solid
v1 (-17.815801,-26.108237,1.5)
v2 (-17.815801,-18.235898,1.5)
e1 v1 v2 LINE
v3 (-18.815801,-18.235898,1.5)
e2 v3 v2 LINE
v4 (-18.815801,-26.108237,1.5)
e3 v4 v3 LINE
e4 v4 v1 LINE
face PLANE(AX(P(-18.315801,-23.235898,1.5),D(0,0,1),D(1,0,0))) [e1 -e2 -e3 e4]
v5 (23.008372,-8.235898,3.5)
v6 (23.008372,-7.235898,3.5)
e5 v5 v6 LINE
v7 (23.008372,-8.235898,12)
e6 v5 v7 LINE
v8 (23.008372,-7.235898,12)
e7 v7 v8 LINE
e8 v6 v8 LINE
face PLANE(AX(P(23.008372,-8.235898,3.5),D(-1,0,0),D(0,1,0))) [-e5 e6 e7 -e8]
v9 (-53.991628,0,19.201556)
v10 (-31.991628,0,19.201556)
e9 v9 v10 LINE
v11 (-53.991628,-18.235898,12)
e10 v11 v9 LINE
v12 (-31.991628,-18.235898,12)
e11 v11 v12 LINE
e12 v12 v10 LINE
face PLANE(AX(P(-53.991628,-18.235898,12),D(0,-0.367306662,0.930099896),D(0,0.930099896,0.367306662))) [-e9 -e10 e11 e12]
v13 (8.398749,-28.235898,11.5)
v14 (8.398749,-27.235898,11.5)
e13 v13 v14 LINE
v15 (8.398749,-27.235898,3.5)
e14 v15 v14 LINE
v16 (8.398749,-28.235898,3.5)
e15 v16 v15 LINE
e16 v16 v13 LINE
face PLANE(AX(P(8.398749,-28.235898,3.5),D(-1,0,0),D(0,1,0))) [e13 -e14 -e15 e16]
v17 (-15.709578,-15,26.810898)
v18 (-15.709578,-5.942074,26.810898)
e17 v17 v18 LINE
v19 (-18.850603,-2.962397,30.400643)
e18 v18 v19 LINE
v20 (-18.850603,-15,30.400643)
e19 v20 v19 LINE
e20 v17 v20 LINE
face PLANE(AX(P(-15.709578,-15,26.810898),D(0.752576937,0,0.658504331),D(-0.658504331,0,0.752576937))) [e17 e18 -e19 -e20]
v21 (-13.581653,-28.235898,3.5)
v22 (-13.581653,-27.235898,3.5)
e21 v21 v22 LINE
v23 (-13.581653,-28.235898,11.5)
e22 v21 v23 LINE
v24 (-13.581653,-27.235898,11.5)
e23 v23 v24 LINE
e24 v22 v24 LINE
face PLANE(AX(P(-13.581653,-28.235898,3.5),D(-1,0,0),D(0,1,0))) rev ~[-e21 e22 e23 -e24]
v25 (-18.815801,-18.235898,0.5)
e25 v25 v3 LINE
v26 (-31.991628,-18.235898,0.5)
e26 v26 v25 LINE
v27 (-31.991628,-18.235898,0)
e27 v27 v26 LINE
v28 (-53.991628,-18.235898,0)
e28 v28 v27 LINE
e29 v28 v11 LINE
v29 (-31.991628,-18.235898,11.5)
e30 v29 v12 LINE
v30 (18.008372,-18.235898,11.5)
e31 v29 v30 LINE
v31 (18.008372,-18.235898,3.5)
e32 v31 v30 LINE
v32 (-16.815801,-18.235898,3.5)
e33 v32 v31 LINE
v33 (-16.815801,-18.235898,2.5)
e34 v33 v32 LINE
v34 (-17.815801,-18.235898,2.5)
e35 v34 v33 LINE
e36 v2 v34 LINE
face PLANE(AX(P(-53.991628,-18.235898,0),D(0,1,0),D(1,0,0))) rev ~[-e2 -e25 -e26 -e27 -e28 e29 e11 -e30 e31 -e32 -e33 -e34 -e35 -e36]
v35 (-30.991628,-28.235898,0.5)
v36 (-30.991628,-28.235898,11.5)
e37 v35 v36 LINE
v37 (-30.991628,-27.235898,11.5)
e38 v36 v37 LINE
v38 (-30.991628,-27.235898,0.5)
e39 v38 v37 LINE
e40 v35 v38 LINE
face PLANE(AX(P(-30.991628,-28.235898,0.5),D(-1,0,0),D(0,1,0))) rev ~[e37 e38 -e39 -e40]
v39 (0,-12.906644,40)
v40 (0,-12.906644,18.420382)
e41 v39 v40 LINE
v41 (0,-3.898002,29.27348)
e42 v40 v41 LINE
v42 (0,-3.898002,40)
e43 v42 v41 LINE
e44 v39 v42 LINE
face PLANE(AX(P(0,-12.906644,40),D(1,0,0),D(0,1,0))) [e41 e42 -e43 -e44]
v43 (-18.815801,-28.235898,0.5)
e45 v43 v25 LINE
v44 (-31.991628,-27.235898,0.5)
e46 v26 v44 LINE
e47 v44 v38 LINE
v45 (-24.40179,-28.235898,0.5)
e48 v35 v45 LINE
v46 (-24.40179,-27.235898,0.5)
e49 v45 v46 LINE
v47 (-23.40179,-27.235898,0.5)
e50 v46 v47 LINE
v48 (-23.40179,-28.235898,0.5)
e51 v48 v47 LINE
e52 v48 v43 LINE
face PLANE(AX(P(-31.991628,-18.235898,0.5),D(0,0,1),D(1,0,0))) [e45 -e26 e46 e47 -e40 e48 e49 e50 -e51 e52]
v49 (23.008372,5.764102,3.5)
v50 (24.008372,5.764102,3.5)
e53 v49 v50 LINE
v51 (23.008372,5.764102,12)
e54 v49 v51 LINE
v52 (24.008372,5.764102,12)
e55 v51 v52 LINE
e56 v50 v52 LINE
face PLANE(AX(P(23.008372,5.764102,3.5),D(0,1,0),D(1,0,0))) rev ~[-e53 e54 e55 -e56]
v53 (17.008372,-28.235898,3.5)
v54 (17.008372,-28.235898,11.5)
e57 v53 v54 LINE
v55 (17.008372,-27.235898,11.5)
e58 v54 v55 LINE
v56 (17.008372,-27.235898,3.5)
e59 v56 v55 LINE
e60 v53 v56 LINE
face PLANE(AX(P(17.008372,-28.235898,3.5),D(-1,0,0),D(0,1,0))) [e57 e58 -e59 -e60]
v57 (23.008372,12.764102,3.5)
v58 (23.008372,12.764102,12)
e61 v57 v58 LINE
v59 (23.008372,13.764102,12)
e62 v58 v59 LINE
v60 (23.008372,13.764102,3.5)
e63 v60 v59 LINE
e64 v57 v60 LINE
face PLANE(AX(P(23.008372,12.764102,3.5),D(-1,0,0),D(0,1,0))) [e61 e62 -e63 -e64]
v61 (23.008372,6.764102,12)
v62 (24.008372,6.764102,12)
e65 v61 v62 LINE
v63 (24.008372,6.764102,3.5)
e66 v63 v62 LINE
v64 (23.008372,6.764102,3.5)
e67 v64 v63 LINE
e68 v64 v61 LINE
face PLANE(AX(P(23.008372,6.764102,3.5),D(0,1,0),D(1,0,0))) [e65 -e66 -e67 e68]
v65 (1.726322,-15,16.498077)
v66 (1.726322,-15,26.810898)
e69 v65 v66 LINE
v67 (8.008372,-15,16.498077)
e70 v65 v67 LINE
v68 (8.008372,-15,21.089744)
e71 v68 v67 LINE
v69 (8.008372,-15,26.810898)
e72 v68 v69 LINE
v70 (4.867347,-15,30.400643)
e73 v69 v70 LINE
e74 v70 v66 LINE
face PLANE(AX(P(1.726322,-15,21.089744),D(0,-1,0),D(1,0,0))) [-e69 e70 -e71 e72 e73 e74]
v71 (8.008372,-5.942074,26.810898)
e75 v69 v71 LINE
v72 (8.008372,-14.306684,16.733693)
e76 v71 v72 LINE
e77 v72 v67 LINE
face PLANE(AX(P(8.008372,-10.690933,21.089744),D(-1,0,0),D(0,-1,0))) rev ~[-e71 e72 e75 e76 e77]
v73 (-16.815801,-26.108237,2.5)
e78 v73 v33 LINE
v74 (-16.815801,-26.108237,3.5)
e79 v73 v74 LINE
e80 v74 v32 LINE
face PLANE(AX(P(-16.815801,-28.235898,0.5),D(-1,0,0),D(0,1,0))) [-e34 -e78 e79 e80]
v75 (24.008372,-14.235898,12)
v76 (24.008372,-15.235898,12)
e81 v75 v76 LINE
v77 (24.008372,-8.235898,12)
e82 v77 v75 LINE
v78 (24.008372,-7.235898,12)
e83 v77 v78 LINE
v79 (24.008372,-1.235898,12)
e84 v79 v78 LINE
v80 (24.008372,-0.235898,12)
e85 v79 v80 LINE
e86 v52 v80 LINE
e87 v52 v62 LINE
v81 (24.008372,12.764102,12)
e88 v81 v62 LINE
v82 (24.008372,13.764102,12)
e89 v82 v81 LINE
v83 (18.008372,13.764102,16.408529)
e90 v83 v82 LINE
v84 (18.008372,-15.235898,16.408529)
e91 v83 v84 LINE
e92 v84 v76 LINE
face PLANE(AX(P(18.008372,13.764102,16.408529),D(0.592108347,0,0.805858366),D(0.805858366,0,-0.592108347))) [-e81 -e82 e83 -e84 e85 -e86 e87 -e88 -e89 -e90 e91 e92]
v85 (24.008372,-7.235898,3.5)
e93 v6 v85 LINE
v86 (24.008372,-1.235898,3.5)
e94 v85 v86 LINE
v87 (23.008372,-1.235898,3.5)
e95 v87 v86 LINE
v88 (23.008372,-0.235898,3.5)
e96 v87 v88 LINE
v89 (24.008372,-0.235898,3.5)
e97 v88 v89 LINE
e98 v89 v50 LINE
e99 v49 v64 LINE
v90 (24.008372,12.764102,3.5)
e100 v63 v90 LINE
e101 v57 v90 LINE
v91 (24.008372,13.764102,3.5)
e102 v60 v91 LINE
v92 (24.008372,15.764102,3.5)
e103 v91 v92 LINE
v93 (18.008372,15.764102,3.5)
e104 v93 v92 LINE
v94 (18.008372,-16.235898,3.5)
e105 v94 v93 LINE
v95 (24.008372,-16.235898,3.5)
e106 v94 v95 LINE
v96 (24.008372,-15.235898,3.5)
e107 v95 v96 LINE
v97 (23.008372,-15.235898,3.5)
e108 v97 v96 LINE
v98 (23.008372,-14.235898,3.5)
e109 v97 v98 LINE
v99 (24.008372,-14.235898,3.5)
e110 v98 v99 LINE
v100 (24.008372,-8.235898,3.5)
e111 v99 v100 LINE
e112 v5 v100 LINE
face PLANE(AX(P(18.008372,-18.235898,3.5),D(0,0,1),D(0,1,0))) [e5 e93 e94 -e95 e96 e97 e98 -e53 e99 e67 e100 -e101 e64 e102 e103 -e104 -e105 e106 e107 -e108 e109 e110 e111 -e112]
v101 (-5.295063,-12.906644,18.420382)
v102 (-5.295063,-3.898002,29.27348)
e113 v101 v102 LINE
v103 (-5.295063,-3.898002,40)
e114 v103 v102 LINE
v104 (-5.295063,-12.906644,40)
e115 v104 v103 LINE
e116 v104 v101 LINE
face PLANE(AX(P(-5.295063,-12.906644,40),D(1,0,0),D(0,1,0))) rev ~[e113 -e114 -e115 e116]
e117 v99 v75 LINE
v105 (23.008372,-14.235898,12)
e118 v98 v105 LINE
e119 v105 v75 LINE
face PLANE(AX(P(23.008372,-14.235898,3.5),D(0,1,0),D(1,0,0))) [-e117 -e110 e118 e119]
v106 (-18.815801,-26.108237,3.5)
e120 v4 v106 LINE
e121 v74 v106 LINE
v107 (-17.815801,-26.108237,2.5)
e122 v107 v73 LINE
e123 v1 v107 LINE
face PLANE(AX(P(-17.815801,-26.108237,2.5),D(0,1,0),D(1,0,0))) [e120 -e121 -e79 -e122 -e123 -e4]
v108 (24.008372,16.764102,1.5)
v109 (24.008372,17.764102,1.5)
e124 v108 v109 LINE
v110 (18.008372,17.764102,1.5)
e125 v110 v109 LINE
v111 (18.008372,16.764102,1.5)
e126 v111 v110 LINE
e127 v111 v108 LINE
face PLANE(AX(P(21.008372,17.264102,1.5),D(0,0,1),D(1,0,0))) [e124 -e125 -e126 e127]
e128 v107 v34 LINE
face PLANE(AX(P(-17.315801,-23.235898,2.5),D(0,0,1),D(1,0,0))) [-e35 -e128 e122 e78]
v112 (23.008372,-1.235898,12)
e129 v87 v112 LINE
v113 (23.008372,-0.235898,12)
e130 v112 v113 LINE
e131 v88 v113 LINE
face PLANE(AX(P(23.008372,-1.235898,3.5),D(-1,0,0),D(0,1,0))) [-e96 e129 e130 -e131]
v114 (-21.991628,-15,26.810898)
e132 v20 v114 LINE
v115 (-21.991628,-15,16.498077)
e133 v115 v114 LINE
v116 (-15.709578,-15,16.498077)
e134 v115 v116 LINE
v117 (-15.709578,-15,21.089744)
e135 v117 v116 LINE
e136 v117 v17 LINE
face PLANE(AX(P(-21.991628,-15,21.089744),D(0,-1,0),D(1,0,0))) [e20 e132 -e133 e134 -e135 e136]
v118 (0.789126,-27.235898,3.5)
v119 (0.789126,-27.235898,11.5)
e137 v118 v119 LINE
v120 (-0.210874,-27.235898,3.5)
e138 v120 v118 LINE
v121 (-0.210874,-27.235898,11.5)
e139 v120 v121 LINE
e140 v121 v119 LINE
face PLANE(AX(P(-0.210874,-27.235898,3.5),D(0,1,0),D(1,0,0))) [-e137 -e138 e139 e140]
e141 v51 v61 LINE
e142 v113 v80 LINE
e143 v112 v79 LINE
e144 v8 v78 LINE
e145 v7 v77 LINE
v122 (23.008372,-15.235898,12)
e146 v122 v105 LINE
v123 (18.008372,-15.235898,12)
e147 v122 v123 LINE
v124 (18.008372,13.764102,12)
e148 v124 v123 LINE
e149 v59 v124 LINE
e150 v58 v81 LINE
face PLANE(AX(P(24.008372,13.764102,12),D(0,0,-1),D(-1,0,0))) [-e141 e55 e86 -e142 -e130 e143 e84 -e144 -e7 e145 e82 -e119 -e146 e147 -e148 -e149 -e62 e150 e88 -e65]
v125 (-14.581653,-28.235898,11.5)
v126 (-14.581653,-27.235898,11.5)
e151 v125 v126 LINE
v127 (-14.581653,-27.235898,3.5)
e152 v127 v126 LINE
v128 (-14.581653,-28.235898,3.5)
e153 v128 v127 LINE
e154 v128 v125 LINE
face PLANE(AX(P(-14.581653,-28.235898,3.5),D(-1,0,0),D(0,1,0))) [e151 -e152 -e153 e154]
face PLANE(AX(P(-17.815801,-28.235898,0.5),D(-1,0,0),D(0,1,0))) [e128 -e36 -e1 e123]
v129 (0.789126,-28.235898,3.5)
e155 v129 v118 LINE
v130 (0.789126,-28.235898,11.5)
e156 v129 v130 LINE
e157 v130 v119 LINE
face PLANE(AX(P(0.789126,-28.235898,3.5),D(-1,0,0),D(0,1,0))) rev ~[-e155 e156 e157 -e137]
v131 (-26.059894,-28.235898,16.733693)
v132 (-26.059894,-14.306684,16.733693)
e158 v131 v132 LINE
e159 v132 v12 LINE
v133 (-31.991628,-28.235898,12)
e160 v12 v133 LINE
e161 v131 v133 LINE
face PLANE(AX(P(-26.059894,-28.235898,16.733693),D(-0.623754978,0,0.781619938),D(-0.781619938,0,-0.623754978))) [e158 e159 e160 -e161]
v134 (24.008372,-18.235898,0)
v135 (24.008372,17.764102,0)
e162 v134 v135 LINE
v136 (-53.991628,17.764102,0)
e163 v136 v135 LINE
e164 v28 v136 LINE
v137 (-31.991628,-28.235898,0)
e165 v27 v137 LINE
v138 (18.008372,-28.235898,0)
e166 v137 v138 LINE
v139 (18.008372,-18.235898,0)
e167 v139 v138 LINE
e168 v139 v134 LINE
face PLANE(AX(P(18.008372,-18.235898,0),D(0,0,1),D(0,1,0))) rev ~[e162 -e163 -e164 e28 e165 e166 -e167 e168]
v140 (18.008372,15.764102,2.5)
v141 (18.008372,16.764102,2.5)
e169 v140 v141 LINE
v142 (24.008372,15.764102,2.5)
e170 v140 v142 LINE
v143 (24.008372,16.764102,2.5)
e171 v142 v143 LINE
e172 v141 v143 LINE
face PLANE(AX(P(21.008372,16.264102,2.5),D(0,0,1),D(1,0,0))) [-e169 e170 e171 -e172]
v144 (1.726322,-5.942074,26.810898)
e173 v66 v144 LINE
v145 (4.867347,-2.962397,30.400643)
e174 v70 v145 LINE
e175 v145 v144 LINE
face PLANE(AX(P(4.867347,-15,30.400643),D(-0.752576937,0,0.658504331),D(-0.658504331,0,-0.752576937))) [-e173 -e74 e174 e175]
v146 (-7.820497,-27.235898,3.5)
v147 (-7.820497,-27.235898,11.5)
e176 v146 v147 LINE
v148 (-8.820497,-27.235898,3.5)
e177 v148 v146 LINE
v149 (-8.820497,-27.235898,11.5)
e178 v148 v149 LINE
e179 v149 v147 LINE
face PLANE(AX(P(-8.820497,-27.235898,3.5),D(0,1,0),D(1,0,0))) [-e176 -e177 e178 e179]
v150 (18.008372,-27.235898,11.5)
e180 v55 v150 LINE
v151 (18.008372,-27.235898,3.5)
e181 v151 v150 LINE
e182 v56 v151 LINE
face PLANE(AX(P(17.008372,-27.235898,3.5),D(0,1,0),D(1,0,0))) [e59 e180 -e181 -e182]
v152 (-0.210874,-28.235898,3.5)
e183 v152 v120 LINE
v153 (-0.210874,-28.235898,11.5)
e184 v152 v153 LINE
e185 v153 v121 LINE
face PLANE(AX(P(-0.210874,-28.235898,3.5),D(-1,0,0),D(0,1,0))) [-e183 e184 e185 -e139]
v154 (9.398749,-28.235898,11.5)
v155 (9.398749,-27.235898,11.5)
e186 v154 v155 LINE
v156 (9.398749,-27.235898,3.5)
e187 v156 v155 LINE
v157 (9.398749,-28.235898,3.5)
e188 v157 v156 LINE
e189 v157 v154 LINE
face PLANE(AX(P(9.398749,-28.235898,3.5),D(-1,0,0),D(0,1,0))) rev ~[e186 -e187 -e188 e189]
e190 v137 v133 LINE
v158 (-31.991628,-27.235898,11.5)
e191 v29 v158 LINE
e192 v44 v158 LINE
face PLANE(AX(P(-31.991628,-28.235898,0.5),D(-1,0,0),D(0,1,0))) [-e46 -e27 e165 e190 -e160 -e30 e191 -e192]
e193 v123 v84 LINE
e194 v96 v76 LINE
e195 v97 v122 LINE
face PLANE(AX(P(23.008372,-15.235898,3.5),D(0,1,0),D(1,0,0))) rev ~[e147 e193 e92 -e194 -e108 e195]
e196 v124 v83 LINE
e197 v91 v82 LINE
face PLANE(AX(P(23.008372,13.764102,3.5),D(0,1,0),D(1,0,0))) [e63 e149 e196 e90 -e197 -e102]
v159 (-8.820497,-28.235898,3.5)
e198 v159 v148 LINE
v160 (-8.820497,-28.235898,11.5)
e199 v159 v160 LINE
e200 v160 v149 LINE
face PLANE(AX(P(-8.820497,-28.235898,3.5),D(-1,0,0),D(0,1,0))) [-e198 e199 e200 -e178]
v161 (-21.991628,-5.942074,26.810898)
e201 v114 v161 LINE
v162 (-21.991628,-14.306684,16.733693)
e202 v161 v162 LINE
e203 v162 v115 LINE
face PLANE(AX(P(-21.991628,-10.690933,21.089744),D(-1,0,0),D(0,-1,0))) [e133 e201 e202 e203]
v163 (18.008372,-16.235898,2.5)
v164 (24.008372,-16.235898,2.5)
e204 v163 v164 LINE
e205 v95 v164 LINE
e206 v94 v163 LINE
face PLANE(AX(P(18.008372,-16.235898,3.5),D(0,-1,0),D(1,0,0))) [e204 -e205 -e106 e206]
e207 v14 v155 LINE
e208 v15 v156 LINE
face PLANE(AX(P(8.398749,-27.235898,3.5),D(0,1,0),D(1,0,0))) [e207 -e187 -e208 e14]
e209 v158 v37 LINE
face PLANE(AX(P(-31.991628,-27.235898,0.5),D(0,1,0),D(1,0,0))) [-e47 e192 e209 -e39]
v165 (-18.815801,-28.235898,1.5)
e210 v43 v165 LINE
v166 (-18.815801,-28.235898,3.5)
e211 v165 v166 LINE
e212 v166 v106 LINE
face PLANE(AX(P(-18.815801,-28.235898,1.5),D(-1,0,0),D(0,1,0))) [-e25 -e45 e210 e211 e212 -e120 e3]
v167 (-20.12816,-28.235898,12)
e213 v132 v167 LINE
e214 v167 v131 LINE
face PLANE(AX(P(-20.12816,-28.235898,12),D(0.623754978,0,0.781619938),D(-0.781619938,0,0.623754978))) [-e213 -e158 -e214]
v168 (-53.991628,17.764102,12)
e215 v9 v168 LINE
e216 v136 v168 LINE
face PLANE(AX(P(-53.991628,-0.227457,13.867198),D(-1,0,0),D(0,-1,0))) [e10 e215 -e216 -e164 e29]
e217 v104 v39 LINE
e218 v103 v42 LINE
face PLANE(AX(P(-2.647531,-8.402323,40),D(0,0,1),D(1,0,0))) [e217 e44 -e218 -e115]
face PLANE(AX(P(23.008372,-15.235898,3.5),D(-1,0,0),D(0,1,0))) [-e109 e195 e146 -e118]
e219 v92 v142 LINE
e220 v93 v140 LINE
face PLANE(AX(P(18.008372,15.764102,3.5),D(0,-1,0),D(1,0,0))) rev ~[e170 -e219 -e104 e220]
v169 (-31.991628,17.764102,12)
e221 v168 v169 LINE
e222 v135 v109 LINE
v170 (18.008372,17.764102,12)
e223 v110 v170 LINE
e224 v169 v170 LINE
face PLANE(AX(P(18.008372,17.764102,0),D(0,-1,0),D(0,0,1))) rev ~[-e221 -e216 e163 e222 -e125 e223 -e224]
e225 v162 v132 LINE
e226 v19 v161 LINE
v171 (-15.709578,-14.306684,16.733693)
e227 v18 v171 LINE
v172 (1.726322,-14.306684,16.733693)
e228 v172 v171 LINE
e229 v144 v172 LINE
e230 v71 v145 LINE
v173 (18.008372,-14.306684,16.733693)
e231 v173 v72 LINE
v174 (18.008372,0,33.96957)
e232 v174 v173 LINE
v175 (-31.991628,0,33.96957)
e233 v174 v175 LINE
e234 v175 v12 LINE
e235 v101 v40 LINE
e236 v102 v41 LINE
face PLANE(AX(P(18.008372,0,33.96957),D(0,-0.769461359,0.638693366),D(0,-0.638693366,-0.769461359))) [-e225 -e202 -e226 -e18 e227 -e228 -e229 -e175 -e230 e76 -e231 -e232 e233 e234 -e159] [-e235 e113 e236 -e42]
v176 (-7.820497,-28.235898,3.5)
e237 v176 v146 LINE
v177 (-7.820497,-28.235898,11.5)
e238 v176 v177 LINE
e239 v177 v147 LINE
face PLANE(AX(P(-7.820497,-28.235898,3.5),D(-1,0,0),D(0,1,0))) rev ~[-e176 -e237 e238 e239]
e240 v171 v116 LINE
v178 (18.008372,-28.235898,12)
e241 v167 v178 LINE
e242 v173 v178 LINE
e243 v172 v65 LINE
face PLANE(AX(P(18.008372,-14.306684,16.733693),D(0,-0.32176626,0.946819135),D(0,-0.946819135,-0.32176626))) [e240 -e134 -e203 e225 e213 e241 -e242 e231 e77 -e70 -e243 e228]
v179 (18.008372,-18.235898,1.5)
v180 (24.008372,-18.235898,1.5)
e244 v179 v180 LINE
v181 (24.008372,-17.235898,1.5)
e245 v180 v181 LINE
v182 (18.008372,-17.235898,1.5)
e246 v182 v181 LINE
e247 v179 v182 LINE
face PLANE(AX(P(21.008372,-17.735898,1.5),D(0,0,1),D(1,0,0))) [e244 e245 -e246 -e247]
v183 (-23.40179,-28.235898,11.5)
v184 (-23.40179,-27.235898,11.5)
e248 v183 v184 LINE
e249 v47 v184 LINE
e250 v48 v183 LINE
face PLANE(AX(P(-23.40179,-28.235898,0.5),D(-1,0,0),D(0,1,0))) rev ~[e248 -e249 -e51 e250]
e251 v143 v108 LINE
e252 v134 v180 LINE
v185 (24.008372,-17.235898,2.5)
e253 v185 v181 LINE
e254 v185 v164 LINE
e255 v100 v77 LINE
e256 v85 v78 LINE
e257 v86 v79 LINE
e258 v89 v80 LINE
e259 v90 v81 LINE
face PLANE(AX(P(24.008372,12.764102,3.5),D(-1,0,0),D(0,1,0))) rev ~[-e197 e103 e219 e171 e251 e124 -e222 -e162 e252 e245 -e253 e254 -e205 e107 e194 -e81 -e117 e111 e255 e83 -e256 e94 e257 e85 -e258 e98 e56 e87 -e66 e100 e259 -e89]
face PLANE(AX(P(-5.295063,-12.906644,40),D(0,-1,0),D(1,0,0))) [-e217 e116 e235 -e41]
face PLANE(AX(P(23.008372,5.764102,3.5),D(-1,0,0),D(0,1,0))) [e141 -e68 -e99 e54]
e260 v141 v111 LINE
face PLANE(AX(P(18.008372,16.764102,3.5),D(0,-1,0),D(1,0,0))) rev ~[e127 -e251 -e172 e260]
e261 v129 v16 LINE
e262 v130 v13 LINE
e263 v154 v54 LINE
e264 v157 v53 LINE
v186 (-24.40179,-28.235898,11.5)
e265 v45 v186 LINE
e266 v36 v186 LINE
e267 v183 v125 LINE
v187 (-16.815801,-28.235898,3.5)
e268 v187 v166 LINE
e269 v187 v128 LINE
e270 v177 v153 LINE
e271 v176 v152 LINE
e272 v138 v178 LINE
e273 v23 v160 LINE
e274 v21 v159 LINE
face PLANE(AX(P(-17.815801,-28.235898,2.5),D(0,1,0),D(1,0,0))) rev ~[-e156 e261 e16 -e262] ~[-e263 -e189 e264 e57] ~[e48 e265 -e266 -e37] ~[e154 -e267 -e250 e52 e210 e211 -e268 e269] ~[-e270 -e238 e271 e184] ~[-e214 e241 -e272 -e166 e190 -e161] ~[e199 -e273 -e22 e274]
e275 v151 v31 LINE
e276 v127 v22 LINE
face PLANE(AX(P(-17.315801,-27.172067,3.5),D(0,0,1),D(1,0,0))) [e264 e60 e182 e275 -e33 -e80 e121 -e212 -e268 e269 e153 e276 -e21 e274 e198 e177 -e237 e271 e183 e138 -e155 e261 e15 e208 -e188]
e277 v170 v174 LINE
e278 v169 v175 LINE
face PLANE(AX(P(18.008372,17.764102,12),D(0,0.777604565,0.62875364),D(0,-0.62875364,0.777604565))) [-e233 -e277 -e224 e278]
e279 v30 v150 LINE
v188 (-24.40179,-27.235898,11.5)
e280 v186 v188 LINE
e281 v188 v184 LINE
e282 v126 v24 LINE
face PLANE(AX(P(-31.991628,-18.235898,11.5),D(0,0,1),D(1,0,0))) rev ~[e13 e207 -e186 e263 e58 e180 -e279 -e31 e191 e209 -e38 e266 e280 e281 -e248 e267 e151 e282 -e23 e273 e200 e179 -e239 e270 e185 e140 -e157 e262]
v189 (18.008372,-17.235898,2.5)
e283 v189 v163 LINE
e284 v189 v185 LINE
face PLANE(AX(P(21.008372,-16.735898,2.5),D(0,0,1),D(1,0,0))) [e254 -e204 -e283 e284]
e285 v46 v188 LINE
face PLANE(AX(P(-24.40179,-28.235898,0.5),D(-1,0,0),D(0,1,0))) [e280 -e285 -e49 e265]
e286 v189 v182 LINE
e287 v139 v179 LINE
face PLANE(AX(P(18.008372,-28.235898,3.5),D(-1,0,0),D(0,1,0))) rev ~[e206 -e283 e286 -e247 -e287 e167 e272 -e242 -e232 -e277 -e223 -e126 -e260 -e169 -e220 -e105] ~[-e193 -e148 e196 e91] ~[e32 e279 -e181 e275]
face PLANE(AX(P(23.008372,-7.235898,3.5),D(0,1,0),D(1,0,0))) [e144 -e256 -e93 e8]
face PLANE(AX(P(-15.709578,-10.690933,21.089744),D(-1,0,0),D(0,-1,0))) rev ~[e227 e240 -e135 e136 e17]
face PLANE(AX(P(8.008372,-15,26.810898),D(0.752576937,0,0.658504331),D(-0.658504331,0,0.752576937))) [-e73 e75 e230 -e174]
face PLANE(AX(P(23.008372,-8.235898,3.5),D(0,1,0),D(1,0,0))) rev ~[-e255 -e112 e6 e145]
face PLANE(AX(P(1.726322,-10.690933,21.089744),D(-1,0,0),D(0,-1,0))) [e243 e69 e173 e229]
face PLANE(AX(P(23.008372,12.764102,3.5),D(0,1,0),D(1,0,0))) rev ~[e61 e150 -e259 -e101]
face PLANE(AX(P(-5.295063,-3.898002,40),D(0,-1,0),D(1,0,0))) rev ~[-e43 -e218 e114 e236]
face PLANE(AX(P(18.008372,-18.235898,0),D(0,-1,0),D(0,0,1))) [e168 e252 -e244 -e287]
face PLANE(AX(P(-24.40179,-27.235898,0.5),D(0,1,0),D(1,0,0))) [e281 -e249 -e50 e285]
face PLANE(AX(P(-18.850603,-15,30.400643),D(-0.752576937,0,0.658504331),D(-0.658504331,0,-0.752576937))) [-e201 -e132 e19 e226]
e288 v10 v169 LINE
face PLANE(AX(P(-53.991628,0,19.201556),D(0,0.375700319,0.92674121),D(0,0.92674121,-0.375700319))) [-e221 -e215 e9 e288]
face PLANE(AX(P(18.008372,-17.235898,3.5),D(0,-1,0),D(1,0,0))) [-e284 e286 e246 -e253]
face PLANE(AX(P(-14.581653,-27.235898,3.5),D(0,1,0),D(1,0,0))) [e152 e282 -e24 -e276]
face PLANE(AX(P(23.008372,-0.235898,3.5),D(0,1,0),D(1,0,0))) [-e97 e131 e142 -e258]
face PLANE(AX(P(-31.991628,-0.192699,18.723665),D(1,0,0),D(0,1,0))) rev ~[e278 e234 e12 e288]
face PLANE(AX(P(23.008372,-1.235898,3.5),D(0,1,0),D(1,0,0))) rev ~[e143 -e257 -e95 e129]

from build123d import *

# Parameters (mm, degrees)
F0_W       = 72
F0_H       = 36
F1_DEPTH   = 12
F3_DEPTH   = 50
F5_DEPTH   = 22
F6_W       = 50
F6_H       = 0.5
F7_DEPTH   = 10
F8_DEPTH   = 10
F13_W      = 1
F13_H      = 10
F14_DEPTH  = 1
F15_DEPTH  = 2
F13_W_2    = 34.824172408
F16_DEPTH  = 3
F17_W      = 1
F17_H      = 1
F18_DEPTH  = 8
F19_DEPTH  = 8
F20_DEPTH  = 8
F21_DEPTH  = 8
F22_DEPTH  = 8
F13_H_2    = 1
F23_DEPTH  = 11
F24_DEPTH  = 11
F25_W      = 1
F25_H      = 2.1276606619
F27_DEPTH  = 2
F26_W      = 1
F26_H      = 2.1276606619
F28_DEPTH  = 1
F29_W      = 36
F29_H      = 3.5
F30_DEPTH  = 6
F31_W      = 6
F31_H      = 1
F32_DEPTH  = 2
F33_DEPTH  = 1
F34_DEPTH  = 2
F35_DEPTH  = 1
F37_START  = -4
F37_DEPTH  = 29
F38_W      = 1
F38_H      = 1
F39_DEPTH  = 8.5
F40_DEPTH  = 8.5
F41_DEPTH  = 8.5
F42_DEPTH  = 8.5
F43_DEPTH  = 8.5
F45_W      = 6.2820501626
F45_H      = 5.7211536914
F46_FACE_W = 6.2820501626
F46_FACE_H = 4.3090674287
F47_FACE_W = 6.2820501626
F47_FACE_H = 4.3090674287
F51_W      = 5.2950629033
F51_H      = 9.0086418204


with BuildPart() as f1:
    # F0 (on Top) → F1 (new body)
    with BuildSketch(Plane.XY):
        with Locations((-17.9916281849, -0.2358976454)):
            Rectangle(F0_W, F0_H)
    extrude(amount=F1_DEPTH)

    # F2 (on face) → F3 (join)
    with BuildSketch(Plane.YZ.offset(18.0083718151)):
        Polygon((-18.2358976454, 12), (17.7641023546, 12), (0, 33.9695699513), align=None)
    extrude(amount=-F3_DEPTH)

    # F4 (on face) → F5 (join, through all)
    with BuildSketch(Plane(origin=(-53.9916281849, 0, 0), x_dir=(0, -1, 0), z_dir=(-1, 0, 0))):
        Polygon((0, 19.2015562207), (-17.7641023546, 12), (18.2358976454, 12), align=None)
    extrude(amount=-F5_DEPTH)

    # F6 (on face) → F7 (join)
    with BuildSketch(Plane.XZ.offset(18.2358976454)):
        with Locations((-6.9916281849, 11.75)):
            Rectangle(F6_W, F6_H)
    extrude(amount=F7_DEPTH)

    # F6 (on face) → F8 (join)
    with BuildSketch(Plane.XZ.offset(18.2358976454)):
        with Locations((-6.9916281849, 0.25)):
            Rectangle(F6_W, F6_H)
    extrude(amount=F8_DEPTH)

    # F9 (on face) → F10 (join, up to the next surface of F1)
    with BuildSketch(Plane.XZ.offset(28.2358976454)):
        Polygon((-26.0598938912, 16.733692959), (-31.9916281849, 12), (-20.1281595975, 12), align=None)
    extrude(until=Until.NEXT, dir=(0, 1, 0))

    # F11 (on face) → F12 (join, up to the next surface of F1)
    with BuildSketch(Plane.YZ.offset(18.0083718151)):
        Polygon((-14.3066837157, 16.733692959), (-28.2358976454, 12), (-18.2358976454, 12), align=None)
    extrude(until=Until.NEXT, dir=(-1, 0, 0))

    # F13 (on face) → F14 (join)
    with BuildSketch(Plane.XY.offset(0.5)):
        with Locations((-18.3158005929, -23.2358976454)):
            Rectangle(F13_W, F13_H)
    extrude(amount=F14_DEPTH)

    # F13 (on face) → F15 (join)
    with BuildSketch(Plane.XY.offset(0.5)):
        with Locations((-17.3158005929, -23.2358976454)):
            Rectangle(F13_W, F13_H)
    extrude(amount=F15_DEPTH)

    # F13 (on face) → F16 (join)
    with BuildSketch(Plane.XY.offset(0.5)):
        with Locations((0.5962856111, -23.2358976454)):
            Rectangle(F13_W_2, F13_H)
    extrude(amount=F16_DEPTH)

    # F17 (on face) → F18 (join, through all)
    with BuildSketch(Plane.XY.offset(3.5)):
        with Locations((-14.0816532895, -27.7358976454)):
            Rectangle(F17_W, F17_H)
    extrude(amount=F18_DEPTH)

    # F17 (on face) → F19 (join, through all)
    with BuildSketch(Plane.XY.offset(3.5)):
        with Locations((-8.3204968274, -27.7358976454)):
            Rectangle(F17_W, F17_H)
    extrude(amount=F19_DEPTH)

    # F17 (on face) → F20 (join, through all)
    with BuildSketch(Plane.XY.offset(3.5)):
        with Locations((0.2891260535, -27.7358976454)):
            Rectangle(F17_W, F17_H)
    extrude(amount=F20_DEPTH)

    # F17 (on face) → F21 (join, through all)
    with BuildSketch(Plane.XY.offset(3.5)):
        with Locations((8.8987489343, -27.7358976454)):
            Rectangle(F17_W, F17_H)
    extrude(amount=F21_DEPTH)

    # F17 (on face) → F22 (join, through all)
    with BuildSketch(Plane.XY.offset(3.5)):
        with Locations((17.5083718151, -27.7358976454)):
            Rectangle(F17_W, F17_H)
    extrude(amount=F22_DEPTH)

    # F13 (on face) → F23 (join, through all)
    with BuildSketch(Plane.XY.offset(0.5)):
        with Locations((-31.4916281849, -27.7358976454)):
            Rectangle(F13_W, F13_H_2)
    extrude(amount=F23_DEPTH)

    # F13 (on face) → F24 (join, through all)
    with BuildSketch(Plane.XY.offset(0.5)):
        with Locations((-23.9017895311, -27.7358976454)):
            Rectangle(F13_W, F13_H_2)
    extrude(amount=F24_DEPTH)

    # F25 (on face) → F27 (join)
    with BuildSketch(Plane.XY.offset(1.5)):
        with Locations((-18.3158005929, -27.1720673144)):
            Rectangle(F25_W, F25_H)
    extrude(amount=F27_DEPTH)

    # F26 (on face) → F28 (join)
    with BuildSketch(Plane.XY.offset(2.5)):
        with Locations((-17.3158005929, -27.1720673144)):
            Rectangle(F26_W, F26_H)
    extrude(amount=F28_DEPTH)

    # F29 (on face) → F30 (join)
    with BuildSketch(Plane.YZ.offset(18.0083718151)):
        with Locations((-0.2358976454, 1.75)):
            Rectangle(F29_W, F29_H)
    extrude(amount=F30_DEPTH)

    # F31 (on face) → F32 (cut)
    with BuildSketch(Plane.XY.offset(3.5)):
        with Locations((21.0083718151, -17.7358976454)):
            Rectangle(F31_W, F31_H)
    extrude(amount=-F32_DEPTH, mode=Mode.SUBTRACT)

    # F31 (on face) → F33 (cut)
    with BuildSketch(Plane.XY.offset(3.5)):
        with Locations((21.0083718151, -16.7358976454)):
            Rectangle(F31_W, F31_H)
    extrude(amount=-F33_DEPTH, mode=Mode.SUBTRACT)

    # F31 (on face) → F34 (cut)
    with BuildSketch(Plane.XY.offset(3.5)):
        with Locations((21.0083718151, 17.2641023546)):
            Rectangle(F31_W, F31_H)
    extrude(amount=-F34_DEPTH, mode=Mode.SUBTRACT)

    # F31 (on face) → F35 (cut)
    with BuildSketch(Plane.XY.offset(3.5)):
        with Locations((21.0083718151, 16.2641023546)):
            Rectangle(F31_W, F31_H)
    extrude(amount=-F35_DEPTH, mode=Mode.SUBTRACT)

    # F36 (on face) → F37 (join)
    with BuildSketch(Plane(origin=(0, 17.7641023546, 0), x_dir=(-1, 0, 0), z_dir=(0, 1, 0)).offset(F37_START)):
        Polygon((-18.0083718151, 12), (-18.0083718151, 16.4085291326), (-24.0083718151, 12), align=None)
    extrude(amount=-F37_DEPTH)

    # F38 (on face) → F39 (join, through all)
    with BuildSketch(Plane.XY.offset(3.5)):
        with Locations((23.5083718151, -14.7358976454)):
            Rectangle(F38_W, F38_H)
    extrude(amount=F39_DEPTH)

    # F38 (on face) → F40 (join, through all)
    with BuildSketch(Plane.XY.offset(3.5)):
        with Locations((23.5083718151, -7.7358976454)):
            Rectangle(F38_W, F38_H)
    extrude(amount=F40_DEPTH)

    # F38 (on face) → F41 (join, through all)
    with BuildSketch(Plane.XY.offset(3.5)):
        with Locations((23.5083718151, -0.7358976454)):
            Rectangle(F38_W, F38_H)
    extrude(amount=F41_DEPTH)

    # F38 (on face) → F42 (join, through all)
    with BuildSketch(Plane.XY.offset(3.5)):
        with Locations((23.5083718151, 6.2641023546)):
            Rectangle(F38_W, F38_H)
    extrude(amount=F42_DEPTH)

    # F38 (on face) → F43 (join, through all)
    with BuildSketch(Plane.XY.offset(3.5)):
        with Locations((23.5083718151, 13.2641023546)):
            Rectangle(F38_W, F38_H)
    extrude(amount=F43_DEPTH)

    # F45 (on offset) → F46 (join, up to the next surface of F1)
    with BuildSketch(Plane.XZ.offset(15)):
        with Locations((-18.8506031036, 23.9503206685)):
            Rectangle(F45_W, F45_H)
        Polygon((-18.8506031036, 30.4006431252), (-21.9916281849, 26.8108975142), (-15.7095780224, 26.8108975142), align=None)
    extrude(until=Until.NEXT, dir=(0, 1, 0))

    # F45 (on offset) → F47 (join, up to the next surface of F1)
    with BuildSketch(Plane.XZ.offset(15)):
        with Locations((4.8673467338, 23.9503206685)):
            Rectangle(F45_W, F45_H)
        Polygon((4.8673467338, 30.4006431252), (1.7263216525, 26.8108975142), (8.0083718151, 26.8108975142), align=None)
    extrude(until=Until.NEXT, dir=(0, 1, 0))

    # F46_face (on face) → F48 (join, up to the next surface of F1)
    with BuildSketch(Plane(origin=(-18.8506031036, -12.8454662856, 21.0897438228), x_dir=(1, 0, 0), z_dir=(0, 0, -1))):
        Rectangle(F46_FACE_W, F46_FACE_H)
    extrude(until=Until.NEXT)

    # F47_face (on face) → F49 (join, up to the next surface of F1)
    with BuildSketch(Plane(origin=(4.8673467338, -12.8454662856, 21.0897438228), x_dir=(1, 0, 0), z_dir=(0, 0, -1))):
        Rectangle(F47_FACE_W, F47_FACE_H)
    extrude(until=Until.NEXT)

    # F51 (on offset) → F52 (join, up to the next surface of F1)
    with BuildSketch(Plane.XY.offset(40)):
        with Locations((-2.6475314517, -8.4023226518)):
            Rectangle(F51_W, F51_H)
    extrude(until=Until.NEXT, dir=(0, 0, -1))


solid = f1.part
